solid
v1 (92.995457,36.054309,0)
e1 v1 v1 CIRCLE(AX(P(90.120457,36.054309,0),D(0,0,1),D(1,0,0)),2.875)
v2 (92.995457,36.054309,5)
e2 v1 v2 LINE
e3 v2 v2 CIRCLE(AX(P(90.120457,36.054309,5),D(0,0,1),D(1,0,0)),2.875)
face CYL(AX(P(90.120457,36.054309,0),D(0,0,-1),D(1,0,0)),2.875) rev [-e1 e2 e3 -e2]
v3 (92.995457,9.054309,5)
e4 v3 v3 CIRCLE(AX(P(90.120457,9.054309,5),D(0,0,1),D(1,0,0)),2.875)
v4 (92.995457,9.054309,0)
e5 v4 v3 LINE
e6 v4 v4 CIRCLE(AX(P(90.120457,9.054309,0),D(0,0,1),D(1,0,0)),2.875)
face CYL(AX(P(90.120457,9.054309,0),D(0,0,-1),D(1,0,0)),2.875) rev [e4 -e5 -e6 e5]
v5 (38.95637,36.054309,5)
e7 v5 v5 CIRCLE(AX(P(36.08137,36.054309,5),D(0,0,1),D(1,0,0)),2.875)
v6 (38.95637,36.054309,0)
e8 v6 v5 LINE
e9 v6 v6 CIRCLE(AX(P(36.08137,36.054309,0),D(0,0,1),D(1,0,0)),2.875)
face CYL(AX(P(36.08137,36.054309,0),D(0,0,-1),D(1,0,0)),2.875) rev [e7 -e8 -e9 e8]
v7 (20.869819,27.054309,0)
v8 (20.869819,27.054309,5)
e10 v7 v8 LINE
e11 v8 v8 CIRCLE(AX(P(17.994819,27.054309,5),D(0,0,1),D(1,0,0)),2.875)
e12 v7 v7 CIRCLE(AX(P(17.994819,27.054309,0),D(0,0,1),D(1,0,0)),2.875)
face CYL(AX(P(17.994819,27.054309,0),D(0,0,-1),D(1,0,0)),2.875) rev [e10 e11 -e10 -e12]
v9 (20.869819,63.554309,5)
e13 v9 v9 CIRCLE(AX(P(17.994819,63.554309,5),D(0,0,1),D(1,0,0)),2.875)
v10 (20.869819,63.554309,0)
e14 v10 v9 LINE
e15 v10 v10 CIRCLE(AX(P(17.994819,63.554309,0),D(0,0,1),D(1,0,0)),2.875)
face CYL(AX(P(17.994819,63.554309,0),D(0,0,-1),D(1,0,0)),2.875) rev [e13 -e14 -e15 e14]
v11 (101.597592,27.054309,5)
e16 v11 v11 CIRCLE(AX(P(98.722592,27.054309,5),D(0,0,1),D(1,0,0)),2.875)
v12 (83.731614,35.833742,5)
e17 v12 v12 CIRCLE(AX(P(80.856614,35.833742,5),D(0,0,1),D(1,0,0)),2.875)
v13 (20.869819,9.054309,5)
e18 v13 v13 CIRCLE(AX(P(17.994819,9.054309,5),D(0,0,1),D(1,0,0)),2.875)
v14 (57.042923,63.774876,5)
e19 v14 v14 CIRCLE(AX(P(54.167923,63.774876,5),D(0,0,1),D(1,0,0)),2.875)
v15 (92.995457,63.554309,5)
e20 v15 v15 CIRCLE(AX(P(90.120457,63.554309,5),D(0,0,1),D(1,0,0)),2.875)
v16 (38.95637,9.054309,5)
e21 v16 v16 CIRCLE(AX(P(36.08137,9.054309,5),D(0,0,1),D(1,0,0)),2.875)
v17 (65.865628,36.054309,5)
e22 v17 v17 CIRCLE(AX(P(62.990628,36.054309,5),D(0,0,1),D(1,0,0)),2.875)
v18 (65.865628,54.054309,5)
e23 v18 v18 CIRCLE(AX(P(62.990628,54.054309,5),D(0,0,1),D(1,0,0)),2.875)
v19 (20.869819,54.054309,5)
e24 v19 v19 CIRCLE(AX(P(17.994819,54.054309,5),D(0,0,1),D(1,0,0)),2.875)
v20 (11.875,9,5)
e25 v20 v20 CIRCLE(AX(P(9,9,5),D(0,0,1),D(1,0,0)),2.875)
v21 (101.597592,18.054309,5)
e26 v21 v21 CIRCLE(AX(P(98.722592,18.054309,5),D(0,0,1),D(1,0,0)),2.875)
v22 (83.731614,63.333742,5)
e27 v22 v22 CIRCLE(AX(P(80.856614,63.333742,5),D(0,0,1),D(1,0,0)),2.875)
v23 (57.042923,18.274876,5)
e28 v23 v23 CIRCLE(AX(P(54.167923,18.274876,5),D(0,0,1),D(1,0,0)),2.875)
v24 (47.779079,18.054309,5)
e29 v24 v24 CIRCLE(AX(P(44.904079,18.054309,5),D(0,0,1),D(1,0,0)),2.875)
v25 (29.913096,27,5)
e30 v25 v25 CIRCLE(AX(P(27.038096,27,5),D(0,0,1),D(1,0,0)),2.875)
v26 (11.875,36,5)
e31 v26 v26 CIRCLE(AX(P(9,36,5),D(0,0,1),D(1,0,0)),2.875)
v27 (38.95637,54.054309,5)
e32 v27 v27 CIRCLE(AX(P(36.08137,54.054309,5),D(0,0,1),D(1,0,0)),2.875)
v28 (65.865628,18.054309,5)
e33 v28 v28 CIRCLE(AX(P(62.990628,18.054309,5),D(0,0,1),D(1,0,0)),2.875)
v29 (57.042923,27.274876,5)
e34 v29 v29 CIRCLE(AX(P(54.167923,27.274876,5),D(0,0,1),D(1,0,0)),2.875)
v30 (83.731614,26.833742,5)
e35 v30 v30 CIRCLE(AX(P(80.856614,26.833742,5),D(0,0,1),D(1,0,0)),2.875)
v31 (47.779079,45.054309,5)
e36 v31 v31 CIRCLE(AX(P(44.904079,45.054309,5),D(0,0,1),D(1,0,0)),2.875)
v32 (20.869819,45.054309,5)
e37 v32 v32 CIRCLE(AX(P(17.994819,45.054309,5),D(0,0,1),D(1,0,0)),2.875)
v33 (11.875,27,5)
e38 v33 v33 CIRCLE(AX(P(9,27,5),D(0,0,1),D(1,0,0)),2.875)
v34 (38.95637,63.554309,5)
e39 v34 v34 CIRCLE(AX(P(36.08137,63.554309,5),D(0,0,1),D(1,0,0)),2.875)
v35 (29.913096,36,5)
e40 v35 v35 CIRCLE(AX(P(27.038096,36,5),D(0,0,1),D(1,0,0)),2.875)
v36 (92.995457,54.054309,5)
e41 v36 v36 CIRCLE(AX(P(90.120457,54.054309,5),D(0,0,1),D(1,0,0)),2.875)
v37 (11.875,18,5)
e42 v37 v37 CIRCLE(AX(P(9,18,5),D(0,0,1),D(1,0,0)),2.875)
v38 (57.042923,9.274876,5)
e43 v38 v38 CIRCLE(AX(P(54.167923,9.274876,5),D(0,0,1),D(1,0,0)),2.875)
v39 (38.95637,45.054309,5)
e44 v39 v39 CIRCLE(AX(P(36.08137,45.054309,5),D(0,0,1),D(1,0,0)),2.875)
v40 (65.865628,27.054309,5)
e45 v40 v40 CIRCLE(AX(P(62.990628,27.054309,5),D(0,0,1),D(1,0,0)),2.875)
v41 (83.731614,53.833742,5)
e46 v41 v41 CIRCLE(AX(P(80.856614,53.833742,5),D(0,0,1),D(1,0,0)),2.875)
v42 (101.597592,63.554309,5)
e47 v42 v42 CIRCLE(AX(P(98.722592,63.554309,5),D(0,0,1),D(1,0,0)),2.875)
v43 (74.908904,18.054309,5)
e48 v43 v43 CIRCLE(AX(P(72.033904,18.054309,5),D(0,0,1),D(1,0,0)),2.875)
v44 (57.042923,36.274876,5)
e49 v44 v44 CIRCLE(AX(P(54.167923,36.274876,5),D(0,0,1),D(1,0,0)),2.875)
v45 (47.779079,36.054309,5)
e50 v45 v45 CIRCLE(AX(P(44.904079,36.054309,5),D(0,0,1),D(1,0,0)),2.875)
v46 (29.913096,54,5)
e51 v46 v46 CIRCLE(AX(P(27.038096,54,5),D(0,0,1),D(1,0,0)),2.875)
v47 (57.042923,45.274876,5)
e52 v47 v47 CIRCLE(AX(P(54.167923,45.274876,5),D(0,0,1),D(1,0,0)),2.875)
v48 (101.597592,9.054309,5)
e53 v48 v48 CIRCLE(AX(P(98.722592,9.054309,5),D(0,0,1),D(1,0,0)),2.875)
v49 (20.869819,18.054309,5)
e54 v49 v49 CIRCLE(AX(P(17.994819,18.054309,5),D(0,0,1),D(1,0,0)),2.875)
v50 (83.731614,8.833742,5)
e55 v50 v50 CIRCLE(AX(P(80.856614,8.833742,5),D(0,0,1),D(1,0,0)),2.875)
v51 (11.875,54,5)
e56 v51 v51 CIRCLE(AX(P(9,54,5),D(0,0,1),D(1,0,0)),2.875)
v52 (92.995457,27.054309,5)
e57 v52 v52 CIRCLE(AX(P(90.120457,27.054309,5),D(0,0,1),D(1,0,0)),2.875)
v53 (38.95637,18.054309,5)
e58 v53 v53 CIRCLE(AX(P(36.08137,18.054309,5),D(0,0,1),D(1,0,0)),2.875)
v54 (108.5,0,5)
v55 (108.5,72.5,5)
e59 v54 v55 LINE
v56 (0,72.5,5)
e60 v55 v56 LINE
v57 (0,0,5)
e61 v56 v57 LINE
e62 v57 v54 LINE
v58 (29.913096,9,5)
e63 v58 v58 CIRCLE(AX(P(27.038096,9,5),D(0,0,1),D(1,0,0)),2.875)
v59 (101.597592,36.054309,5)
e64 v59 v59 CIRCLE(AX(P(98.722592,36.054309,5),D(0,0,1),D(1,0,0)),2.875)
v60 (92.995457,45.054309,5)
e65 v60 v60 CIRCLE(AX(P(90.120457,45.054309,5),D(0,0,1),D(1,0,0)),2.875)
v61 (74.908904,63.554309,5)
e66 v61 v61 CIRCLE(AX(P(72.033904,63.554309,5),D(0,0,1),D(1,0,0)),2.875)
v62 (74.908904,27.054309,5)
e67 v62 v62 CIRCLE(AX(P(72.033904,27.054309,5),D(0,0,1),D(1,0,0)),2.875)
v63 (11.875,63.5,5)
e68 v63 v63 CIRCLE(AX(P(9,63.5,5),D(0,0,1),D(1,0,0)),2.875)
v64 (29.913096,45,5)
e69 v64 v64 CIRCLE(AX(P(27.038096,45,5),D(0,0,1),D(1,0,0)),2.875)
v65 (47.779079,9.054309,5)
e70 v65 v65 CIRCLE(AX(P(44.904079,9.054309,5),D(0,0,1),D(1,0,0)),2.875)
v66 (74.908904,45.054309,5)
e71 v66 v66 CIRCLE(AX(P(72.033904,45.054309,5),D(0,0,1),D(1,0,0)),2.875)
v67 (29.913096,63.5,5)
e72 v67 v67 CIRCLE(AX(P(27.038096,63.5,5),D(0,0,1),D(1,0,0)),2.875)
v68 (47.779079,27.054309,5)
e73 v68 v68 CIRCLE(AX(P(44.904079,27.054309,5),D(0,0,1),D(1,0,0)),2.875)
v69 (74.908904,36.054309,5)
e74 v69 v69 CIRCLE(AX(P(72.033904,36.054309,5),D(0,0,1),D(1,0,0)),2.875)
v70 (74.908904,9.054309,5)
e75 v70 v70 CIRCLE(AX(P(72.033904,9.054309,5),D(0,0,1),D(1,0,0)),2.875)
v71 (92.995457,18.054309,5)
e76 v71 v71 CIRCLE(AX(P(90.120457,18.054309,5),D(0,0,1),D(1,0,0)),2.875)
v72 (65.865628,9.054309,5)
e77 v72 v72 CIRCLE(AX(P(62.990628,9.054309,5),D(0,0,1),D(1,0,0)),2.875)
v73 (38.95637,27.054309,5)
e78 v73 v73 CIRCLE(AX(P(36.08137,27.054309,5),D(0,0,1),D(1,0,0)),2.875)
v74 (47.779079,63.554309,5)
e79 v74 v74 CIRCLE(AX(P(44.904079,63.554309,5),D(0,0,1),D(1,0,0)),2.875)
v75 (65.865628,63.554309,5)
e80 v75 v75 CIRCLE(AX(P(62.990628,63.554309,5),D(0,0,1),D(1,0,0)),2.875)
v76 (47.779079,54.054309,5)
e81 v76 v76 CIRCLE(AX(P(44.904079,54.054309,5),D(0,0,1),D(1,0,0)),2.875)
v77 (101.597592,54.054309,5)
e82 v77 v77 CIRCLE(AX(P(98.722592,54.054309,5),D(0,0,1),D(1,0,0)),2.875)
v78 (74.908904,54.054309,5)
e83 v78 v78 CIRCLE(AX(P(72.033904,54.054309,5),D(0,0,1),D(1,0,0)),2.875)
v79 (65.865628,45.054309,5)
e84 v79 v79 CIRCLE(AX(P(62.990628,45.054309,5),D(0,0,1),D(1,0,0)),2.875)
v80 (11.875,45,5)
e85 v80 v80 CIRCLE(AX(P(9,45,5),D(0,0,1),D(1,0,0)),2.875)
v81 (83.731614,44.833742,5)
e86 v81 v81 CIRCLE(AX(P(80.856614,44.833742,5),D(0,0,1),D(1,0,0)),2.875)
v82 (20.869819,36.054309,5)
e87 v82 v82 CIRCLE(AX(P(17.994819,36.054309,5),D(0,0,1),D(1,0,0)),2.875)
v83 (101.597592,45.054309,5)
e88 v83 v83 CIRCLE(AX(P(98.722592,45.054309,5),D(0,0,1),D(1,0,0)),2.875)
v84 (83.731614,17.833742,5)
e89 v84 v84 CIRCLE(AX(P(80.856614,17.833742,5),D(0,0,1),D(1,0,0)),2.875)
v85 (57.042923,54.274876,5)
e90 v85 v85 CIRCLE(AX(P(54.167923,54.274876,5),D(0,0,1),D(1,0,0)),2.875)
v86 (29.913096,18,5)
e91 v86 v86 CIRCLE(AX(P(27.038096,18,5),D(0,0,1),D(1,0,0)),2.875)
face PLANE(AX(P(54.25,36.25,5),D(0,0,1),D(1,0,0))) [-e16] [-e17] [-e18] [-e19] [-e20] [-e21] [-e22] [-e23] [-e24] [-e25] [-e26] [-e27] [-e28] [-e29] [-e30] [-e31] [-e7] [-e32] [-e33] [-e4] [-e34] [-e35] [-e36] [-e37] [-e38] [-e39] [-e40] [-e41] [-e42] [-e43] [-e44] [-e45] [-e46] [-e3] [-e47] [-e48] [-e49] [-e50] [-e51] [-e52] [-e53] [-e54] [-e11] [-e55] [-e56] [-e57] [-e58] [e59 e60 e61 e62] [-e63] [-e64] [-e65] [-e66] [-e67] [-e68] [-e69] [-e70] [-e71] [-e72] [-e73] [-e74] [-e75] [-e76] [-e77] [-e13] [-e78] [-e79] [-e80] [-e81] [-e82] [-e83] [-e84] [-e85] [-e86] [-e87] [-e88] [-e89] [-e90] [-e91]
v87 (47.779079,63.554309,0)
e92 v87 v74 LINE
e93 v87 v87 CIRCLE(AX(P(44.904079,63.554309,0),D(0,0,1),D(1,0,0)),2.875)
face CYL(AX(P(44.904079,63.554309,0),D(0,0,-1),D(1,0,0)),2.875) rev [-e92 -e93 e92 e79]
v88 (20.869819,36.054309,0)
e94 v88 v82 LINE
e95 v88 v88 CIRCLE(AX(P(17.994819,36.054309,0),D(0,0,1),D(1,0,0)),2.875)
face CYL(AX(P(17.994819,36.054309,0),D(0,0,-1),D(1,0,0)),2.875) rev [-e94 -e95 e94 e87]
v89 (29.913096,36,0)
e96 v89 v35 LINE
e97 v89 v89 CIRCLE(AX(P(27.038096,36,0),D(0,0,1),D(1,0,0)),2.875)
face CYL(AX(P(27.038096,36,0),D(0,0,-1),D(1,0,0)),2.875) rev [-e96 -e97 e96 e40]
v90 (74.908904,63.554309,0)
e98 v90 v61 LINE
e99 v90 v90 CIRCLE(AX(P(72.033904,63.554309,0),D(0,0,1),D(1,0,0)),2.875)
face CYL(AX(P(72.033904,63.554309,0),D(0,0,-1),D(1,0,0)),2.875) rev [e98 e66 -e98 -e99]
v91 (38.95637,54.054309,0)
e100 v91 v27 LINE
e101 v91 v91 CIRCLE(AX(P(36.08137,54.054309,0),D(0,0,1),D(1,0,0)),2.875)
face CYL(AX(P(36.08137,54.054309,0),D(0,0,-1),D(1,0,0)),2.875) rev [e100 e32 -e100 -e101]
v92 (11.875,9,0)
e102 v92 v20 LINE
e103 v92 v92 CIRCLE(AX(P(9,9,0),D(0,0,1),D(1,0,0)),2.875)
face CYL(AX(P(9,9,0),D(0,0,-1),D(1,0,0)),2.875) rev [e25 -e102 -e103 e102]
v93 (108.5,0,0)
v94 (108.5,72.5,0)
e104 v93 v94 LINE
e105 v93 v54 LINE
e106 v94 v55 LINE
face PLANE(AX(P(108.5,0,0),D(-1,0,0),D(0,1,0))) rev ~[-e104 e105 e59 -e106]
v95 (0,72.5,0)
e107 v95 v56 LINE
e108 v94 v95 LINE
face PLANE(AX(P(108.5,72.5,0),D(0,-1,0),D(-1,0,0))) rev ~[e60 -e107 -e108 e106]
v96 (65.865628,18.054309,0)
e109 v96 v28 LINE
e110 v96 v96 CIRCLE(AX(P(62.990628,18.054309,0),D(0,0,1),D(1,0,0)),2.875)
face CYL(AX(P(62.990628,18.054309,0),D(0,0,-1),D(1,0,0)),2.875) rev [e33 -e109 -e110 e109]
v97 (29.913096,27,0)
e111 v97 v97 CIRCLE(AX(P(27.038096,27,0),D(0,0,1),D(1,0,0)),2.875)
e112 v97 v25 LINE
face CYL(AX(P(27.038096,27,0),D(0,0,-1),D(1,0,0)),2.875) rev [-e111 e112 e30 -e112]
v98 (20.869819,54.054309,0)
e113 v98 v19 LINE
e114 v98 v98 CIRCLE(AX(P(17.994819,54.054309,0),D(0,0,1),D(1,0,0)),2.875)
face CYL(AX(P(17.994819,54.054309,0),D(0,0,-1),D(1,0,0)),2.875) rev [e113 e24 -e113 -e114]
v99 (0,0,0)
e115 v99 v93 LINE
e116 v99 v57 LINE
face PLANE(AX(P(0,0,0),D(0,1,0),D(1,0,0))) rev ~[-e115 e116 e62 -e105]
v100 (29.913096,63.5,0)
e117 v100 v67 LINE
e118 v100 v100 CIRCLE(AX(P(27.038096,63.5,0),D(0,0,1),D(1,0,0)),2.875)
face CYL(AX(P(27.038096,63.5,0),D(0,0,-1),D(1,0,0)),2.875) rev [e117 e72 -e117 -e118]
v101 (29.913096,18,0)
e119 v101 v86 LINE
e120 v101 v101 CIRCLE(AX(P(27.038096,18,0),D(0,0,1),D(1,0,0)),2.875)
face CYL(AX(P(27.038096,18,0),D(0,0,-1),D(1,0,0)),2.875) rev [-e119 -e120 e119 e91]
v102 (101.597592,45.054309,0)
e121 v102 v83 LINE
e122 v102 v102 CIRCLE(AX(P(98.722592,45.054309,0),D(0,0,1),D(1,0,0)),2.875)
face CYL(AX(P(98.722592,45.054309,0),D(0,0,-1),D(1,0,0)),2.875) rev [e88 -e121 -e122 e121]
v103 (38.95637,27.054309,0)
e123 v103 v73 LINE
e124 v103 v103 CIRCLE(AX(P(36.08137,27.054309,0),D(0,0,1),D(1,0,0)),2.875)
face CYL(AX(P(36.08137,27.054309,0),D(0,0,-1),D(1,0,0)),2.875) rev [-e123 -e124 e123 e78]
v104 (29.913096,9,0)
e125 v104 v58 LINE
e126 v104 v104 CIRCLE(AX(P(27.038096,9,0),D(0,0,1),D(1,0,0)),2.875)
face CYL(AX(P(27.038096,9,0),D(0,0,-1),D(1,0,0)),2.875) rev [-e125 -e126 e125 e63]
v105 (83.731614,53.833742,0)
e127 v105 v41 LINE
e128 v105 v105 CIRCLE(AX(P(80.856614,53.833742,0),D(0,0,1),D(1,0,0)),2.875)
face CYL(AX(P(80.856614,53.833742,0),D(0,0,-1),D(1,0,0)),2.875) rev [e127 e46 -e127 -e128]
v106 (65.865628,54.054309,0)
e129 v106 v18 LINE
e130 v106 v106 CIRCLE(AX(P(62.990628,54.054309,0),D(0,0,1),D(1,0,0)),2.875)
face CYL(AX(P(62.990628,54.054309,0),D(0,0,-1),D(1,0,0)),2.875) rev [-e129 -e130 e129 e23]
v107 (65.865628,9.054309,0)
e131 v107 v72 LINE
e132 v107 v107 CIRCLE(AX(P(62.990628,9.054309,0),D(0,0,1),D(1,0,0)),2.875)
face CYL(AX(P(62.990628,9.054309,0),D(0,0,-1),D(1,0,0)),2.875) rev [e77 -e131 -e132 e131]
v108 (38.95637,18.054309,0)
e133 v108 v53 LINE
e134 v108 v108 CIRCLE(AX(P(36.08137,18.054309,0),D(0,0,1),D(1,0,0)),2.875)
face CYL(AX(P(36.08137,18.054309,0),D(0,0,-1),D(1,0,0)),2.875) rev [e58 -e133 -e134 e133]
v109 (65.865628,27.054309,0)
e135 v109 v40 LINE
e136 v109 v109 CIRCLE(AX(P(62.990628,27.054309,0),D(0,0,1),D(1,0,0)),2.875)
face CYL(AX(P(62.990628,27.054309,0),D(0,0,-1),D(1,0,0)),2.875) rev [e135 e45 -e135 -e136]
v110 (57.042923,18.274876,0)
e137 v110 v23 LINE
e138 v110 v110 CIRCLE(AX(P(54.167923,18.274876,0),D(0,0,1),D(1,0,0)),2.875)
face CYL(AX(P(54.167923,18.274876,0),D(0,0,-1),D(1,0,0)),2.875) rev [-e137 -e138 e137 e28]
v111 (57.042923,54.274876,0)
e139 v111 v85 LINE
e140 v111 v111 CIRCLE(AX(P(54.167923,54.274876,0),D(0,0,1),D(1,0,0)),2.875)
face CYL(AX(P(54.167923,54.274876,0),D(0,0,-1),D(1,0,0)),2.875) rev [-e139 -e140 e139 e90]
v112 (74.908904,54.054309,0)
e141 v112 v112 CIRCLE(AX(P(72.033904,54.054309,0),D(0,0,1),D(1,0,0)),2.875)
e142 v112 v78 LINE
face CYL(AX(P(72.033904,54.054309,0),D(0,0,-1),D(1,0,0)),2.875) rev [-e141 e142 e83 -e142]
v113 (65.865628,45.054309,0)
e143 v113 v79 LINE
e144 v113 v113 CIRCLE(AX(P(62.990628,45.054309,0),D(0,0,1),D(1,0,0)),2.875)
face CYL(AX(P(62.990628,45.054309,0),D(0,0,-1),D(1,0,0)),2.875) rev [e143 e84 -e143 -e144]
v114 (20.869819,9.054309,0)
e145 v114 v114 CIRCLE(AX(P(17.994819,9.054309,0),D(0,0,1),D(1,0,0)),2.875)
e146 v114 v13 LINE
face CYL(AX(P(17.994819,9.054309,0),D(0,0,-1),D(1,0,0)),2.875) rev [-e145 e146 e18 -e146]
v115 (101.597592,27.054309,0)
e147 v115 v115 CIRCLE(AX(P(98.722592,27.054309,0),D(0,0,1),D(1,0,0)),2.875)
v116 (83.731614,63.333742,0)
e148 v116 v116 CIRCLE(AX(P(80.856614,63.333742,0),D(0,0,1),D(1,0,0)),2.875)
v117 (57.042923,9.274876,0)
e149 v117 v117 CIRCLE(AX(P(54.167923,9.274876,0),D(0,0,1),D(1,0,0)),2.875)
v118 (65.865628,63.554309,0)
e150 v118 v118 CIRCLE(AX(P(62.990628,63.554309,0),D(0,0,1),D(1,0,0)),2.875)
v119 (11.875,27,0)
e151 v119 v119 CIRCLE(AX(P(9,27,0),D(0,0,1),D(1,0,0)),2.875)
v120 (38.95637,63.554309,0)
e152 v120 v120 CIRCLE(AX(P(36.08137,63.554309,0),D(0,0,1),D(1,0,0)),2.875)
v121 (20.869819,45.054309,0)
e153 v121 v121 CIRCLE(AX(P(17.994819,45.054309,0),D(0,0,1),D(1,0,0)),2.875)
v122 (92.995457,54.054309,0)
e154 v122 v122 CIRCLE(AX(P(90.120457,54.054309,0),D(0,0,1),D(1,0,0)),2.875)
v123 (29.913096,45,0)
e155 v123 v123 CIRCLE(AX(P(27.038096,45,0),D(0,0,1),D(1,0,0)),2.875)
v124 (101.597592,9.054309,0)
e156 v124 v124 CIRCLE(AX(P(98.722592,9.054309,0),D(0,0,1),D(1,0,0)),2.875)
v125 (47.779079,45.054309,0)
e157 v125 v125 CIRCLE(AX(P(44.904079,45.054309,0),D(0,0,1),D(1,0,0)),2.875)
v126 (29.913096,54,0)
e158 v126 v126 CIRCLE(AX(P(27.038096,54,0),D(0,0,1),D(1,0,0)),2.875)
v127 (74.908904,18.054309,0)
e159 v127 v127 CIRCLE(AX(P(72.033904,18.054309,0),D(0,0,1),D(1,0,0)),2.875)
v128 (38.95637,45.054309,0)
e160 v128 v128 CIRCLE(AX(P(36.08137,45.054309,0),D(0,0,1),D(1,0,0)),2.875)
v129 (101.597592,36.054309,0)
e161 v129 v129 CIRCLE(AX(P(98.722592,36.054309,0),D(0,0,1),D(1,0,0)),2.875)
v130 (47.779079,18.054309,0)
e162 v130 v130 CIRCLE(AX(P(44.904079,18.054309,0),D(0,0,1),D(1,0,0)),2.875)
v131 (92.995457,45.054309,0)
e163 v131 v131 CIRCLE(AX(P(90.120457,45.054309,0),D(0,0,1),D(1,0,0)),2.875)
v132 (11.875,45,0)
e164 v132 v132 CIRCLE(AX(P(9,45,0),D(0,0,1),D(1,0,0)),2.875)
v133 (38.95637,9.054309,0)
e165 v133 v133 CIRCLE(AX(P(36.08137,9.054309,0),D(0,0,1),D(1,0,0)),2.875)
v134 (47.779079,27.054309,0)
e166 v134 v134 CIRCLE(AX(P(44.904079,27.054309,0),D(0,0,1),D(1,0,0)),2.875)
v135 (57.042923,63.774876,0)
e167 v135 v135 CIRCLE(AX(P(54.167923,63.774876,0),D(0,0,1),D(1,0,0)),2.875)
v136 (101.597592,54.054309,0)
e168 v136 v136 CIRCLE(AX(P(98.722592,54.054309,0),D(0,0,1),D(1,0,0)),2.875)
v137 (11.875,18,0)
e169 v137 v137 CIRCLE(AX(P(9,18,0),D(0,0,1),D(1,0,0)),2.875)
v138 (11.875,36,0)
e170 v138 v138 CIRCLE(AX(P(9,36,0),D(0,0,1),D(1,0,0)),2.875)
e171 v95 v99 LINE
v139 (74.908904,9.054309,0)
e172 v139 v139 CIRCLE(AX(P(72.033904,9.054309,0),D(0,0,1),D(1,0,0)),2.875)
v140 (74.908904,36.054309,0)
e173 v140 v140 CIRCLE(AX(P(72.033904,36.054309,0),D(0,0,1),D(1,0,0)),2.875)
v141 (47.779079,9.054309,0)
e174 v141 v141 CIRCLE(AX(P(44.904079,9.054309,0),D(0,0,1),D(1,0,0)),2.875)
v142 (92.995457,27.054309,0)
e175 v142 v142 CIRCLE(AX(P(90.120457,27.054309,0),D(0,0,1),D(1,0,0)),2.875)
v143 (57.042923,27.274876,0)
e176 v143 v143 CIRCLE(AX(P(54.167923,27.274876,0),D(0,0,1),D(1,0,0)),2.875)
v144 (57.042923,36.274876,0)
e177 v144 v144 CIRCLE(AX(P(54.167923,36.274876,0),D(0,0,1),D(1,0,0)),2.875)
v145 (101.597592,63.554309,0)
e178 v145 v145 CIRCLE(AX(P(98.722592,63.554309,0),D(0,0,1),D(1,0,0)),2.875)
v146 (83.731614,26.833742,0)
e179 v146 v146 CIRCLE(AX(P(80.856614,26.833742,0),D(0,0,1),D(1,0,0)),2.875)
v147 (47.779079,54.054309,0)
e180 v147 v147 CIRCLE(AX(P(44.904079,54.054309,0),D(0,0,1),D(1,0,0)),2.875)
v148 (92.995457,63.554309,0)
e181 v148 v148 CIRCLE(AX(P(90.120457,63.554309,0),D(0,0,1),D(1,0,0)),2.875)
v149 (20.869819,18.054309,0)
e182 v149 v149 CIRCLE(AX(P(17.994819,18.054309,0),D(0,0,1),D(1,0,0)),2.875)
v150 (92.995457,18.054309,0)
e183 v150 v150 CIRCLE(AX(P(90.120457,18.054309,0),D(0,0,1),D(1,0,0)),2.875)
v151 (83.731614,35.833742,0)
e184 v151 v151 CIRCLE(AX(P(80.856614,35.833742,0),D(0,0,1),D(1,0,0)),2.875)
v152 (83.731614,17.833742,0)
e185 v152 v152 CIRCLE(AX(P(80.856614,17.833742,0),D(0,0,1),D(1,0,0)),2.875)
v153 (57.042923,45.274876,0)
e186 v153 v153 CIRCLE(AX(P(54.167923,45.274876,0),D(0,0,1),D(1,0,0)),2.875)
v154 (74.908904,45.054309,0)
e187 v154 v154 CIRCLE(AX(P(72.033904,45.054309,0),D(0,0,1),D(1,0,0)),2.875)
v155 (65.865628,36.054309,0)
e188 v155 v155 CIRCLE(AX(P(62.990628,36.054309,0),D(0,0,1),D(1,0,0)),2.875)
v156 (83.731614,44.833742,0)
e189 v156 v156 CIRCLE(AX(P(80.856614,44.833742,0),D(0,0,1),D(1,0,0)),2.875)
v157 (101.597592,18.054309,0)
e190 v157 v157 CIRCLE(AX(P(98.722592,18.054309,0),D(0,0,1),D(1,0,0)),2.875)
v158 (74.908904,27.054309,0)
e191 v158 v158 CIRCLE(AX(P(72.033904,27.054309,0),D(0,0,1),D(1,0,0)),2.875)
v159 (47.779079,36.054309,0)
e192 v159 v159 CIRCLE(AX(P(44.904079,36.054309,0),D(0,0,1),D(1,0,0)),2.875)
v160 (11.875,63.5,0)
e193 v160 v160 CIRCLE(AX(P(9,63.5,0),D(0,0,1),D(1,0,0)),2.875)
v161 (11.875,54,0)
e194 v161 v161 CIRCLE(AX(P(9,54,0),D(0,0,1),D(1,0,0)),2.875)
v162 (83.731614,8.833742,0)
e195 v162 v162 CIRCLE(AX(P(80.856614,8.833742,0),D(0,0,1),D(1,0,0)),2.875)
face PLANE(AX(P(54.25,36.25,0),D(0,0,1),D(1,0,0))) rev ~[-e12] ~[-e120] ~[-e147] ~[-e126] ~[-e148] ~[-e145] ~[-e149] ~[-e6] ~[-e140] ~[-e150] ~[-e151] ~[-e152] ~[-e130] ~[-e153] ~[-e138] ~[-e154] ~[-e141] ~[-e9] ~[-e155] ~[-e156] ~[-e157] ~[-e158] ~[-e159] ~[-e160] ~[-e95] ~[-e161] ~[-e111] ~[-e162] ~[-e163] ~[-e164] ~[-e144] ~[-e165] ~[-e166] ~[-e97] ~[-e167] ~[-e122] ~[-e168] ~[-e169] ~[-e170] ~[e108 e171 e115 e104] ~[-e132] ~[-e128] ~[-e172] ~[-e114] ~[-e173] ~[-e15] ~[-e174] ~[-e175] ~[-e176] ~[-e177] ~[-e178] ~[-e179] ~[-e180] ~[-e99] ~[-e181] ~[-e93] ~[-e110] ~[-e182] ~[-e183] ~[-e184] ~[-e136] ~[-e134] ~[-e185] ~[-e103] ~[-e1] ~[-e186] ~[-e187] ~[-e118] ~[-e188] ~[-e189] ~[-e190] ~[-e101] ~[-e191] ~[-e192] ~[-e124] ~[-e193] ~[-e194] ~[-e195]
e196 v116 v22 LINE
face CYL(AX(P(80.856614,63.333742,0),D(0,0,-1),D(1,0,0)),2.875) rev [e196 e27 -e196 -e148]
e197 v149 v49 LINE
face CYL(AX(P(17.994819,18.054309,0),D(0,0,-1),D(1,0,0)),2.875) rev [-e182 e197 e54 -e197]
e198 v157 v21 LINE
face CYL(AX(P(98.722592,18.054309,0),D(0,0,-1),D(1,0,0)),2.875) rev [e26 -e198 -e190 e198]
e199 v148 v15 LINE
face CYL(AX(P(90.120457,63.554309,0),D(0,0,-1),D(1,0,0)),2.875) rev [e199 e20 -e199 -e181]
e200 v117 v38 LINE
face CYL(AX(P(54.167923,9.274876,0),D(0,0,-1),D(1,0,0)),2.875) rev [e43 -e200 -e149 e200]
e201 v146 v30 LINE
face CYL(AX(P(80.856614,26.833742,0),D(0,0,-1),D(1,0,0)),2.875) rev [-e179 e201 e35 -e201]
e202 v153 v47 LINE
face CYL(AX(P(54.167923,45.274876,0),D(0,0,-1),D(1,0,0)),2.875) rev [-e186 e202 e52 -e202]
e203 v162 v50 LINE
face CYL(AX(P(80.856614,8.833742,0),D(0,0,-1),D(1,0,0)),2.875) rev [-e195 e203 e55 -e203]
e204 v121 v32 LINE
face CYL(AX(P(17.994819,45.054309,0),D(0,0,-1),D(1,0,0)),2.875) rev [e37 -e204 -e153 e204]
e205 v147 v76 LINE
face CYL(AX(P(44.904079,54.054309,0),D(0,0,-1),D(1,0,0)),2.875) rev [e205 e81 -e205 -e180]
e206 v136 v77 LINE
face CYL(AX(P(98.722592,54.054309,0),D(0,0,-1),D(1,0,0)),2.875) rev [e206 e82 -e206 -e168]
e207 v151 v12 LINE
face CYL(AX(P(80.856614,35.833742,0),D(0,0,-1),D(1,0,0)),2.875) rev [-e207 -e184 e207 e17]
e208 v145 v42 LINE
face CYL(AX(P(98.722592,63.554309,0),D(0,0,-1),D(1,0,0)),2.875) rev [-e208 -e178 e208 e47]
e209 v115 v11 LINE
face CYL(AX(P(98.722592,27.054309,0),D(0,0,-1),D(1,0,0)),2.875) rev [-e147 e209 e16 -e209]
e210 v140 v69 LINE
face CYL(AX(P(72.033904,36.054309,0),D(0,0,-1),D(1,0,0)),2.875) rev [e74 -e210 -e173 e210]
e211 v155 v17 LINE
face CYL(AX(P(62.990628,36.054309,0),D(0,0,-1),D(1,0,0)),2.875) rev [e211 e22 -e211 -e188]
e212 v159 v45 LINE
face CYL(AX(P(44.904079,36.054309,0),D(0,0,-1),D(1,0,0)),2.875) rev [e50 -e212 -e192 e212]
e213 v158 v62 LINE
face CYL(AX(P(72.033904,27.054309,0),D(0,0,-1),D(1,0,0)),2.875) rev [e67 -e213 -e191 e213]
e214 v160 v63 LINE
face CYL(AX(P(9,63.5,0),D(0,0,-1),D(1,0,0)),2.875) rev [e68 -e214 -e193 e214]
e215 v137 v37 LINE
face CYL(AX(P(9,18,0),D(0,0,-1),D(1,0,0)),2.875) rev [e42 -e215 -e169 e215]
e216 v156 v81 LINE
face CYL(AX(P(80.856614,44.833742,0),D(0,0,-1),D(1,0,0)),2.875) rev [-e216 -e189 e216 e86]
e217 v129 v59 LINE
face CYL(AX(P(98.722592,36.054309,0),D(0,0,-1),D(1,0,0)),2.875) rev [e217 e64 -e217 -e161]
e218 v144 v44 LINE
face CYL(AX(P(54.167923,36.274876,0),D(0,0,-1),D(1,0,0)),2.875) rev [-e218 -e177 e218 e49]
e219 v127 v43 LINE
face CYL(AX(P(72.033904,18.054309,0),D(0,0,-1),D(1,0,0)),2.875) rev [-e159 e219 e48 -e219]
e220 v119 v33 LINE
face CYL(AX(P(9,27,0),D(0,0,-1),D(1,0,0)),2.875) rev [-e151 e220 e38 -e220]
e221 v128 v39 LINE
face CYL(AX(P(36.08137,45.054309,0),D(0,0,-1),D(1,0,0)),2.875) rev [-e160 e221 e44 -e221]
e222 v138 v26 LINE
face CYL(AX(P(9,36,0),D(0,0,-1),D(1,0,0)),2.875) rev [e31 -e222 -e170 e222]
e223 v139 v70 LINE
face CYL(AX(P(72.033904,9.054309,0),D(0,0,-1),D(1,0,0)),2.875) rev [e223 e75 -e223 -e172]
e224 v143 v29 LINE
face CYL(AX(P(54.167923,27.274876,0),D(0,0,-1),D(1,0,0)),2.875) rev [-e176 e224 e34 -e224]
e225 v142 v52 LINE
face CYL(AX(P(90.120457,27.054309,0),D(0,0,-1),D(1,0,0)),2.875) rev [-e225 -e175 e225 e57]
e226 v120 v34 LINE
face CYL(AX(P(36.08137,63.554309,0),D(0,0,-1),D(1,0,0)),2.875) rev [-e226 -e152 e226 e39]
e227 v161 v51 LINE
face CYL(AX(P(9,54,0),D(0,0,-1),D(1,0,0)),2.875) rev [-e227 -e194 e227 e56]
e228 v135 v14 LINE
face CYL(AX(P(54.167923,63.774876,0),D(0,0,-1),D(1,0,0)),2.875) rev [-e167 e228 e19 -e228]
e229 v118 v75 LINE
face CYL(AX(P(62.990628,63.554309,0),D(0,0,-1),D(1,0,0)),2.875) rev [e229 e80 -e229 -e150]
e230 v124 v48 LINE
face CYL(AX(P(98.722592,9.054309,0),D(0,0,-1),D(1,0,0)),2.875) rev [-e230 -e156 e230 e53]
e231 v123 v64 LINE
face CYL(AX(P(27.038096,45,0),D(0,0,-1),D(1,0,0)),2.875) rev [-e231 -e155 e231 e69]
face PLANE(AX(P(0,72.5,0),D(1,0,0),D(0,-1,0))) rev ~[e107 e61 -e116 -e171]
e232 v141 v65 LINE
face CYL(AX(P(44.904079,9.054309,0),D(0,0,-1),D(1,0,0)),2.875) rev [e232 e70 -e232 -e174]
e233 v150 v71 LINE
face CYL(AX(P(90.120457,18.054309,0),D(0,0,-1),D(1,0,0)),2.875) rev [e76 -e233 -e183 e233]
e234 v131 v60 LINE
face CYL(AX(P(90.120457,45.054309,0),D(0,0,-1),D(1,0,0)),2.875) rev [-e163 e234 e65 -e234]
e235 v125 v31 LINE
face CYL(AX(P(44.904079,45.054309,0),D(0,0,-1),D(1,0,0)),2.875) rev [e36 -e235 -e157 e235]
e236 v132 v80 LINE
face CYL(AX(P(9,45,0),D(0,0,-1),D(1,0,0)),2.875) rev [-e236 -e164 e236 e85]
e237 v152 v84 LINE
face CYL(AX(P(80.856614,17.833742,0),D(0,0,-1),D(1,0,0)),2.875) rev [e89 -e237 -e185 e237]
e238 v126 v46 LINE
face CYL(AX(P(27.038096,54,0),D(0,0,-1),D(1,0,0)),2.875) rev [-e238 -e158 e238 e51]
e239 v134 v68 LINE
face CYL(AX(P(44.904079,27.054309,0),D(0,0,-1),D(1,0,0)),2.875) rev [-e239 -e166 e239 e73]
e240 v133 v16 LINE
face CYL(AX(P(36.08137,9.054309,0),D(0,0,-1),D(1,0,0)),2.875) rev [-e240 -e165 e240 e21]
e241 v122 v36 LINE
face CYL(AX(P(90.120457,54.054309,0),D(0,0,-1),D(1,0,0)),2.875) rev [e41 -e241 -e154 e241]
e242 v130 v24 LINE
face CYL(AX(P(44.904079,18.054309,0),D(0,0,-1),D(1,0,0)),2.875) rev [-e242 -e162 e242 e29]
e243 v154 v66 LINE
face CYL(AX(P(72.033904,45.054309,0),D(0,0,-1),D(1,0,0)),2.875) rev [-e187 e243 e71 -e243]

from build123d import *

# Parameters (mm, degrees)
F0_R     = 2.875
F1_DEPTH = 5


with BuildPart() as f1:
    # F0 (on Top) → F1 (new body)
    with BuildSketch(Plane.XY):
        Polygon((0, 9), (0, 0), (9, 0), (108.5, 0), (108.5, 9), (108.5, 18), (108.5, 27), (108.5, 36), (108.5, 45), (108.5, 54), (108.5, 72.5), (99, 72.5), (90, 72.5), (81, 72.5), (72, 72.5), (63, 72.5), (54.25, 72.5), (54, 72.5), (45, 72.5), (36, 72.5), (27, 72.5), (18, 72.5), (9, 72.5), (0, 72.5), (0, 63.5), (0, 45), (0, 36), (0, 27), (0, 18), align=None)
        with Locations((9, 9)):
            Circle(F0_R, mode=Mode.SUBTRACT)
        with Locations((17.994819, 9.054309)):
            Circle(F0_R, mode=Mode.SUBTRACT)
        with Locations((27.038096, 9)):
            Circle(F0_R, mode=Mode.SUBTRACT)
        with Locations((9, 18)):
            Circle(F0_R, mode=Mode.SUBTRACT)
        with Locations((17.994819, 18.054309)):
            Circle(F0_R, mode=Mode.SUBTRACT)
        with Locations((27.038096, 18)):
            Circle(F0_R, mode=Mode.SUBTRACT)
        with Locations((36.08137, 9.054309)):
            Circle(F0_R, mode=Mode.SUBTRACT)
        with Locations((44.904079, 9.054309)):
            Circle(F0_R, mode=Mode.SUBTRACT)
        with Locations((36.08137, 18.054309)):
            Circle(F0_R, mode=Mode.SUBTRACT)
        with Locations((54.167923, 9.274876)):
            Circle(F0_R, mode=Mode.SUBTRACT)
        with Locations((44.904079, 18.054309)):
            Circle(F0_R, mode=Mode.SUBTRACT)
        with Locations((9, 27)):
            Circle(F0_R, mode=Mode.SUBTRACT)
        with Locations((17.994819, 27.054309)):
            Circle(F0_R, mode=Mode.SUBTRACT)
        with Locations((27.038096, 27)):
            Circle(F0_R, mode=Mode.SUBTRACT)
        with Locations((9, 36)):
            Circle(F0_R, mode=Mode.SUBTRACT)
        with Locations((17.994819, 36.054309)):
            Circle(F0_R, mode=Mode.SUBTRACT)
        with Locations((27.038096, 36)):
            Circle(F0_R, mode=Mode.SUBTRACT)
        with Locations((36.08137, 27.054309)):
            Circle(F0_R, mode=Mode.SUBTRACT)
        with Locations((54.167923, 18.274876)):
            Circle(F0_R, mode=Mode.SUBTRACT)
        with Locations((44.904079, 27.054309)):
            Circle(F0_R, mode=Mode.SUBTRACT)
        with Locations((36.08137, 36.054309)):
            Circle(F0_R, mode=Mode.SUBTRACT)
        with Locations((54.167923, 27.274876)):
            Circle(F0_R, mode=Mode.SUBTRACT)
        with Locations((44.904079, 36.054309)):
            Circle(F0_R, mode=Mode.SUBTRACT)
        with Locations((62.990628, 9.054309)):
            Circle(F0_R, mode=Mode.SUBTRACT)
        with Locations((72.033904, 9.054309)):
            Circle(F0_R, mode=Mode.SUBTRACT)
        with Locations((80.856614, 8.833742)):
            Circle(F0_R, mode=Mode.SUBTRACT)
        with Locations((62.990628, 18.054309)):
            Circle(F0_R, mode=Mode.SUBTRACT)
        with Locations((72.033904, 18.054309)):
            Circle(F0_R, mode=Mode.SUBTRACT)
        with Locations((80.856614, 17.833742)):
            Circle(F0_R, mode=Mode.SUBTRACT)
        with Locations((90.120457, 9.054309)):
            Circle(F0_R, mode=Mode.SUBTRACT)
        with Locations((98.722592, 9.054309)):
            Circle(F0_R, mode=Mode.SUBTRACT)
        with Locations((90.120457, 18.054309)):
            Circle(F0_R, mode=Mode.SUBTRACT)
        with Locations((98.722592, 18.054309)):
            Circle(F0_R, mode=Mode.SUBTRACT)
        with Locations((62.990628, 27.054309)):
            Circle(F0_R, mode=Mode.SUBTRACT)
        with Locations((72.033904, 27.054309)):
            Circle(F0_R, mode=Mode.SUBTRACT)
        with Locations((80.856614, 26.833742)):
            Circle(F0_R, mode=Mode.SUBTRACT)
        with Locations((62.990628, 36.054309)):
            Circle(F0_R, mode=Mode.SUBTRACT)
        with Locations((72.033904, 36.054309)):
            Circle(F0_R, mode=Mode.SUBTRACT)
        with Locations((80.856614, 35.833742)):
            Circle(F0_R, mode=Mode.SUBTRACT)
        with Locations((90.120457, 27.054309)):
            Circle(F0_R, mode=Mode.SUBTRACT)
        with Locations((98.722592, 27.054309)):
            Circle(F0_R, mode=Mode.SUBTRACT)
        with Locations((90.120457, 36.054309)):
            Circle(F0_R, mode=Mode.SUBTRACT)
        with Locations((98.722592, 36.054309)):
            Circle(F0_R, mode=Mode.SUBTRACT)
        with Locations((9, 45)):
            Circle(F0_R, mode=Mode.SUBTRACT)
        with Locations((17.994819, 45.054309)):
            Circle(F0_R, mode=Mode.SUBTRACT)
        with Locations((27.038096, 45)):
            Circle(F0_R, mode=Mode.SUBTRACT)
        with Locations((9, 54)):
            Circle(F0_R, mode=Mode.SUBTRACT)
        with Locations((17.994819, 54.054309)):
            Circle(F0_R, mode=Mode.SUBTRACT)
        with Locations((27.038096, 54)):
            Circle(F0_R, mode=Mode.SUBTRACT)
        with Locations((36.08137, 45.054309)):
            Circle(F0_R, mode=Mode.SUBTRACT)
        with Locations((54.167923, 36.274876)):
            Circle(F0_R, mode=Mode.SUBTRACT)
        with Locations((44.904079, 45.054309)):
            Circle(F0_R, mode=Mode.SUBTRACT)
        with Locations((54.167923, 45.274876)):
            Circle(F0_R, mode=Mode.SUBTRACT)
        with Locations((36.08137, 54.054309)):
            Circle(F0_R, mode=Mode.SUBTRACT)
        with Locations((44.904079, 54.054309)):
            Circle(F0_R, mode=Mode.SUBTRACT)
        with Locations((54.167923, 54.274876)):
            Circle(F0_R, mode=Mode.SUBTRACT)
        with Locations((9, 63.5)):
            Circle(F0_R, mode=Mode.SUBTRACT)
        with Locations((17.994819, 63.554309)):
            Circle(F0_R, mode=Mode.SUBTRACT)
        with Locations((27.038096, 63.5)):
            Circle(F0_R, mode=Mode.SUBTRACT)
        with Locations((36.08137, 63.554309)):
            Circle(F0_R, mode=Mode.SUBTRACT)
        with Locations((44.904079, 63.554309)):
            Circle(F0_R, mode=Mode.SUBTRACT)
        with Locations((54.167923, 63.774876)):
            Circle(F0_R, mode=Mode.SUBTRACT)
        with Locations((62.990628, 45.054309)):
            Circle(F0_R, mode=Mode.SUBTRACT)
        with Locations((72.033904, 45.054309)):
            Circle(F0_R, mode=Mode.SUBTRACT)
        with Locations((80.856614, 44.833742)):
            Circle(F0_R, mode=Mode.SUBTRACT)
        with Locations((62.990628, 54.054309)):
            Circle(F0_R, mode=Mode.SUBTRACT)
        with Locations((72.033904, 54.054309)):
            Circle(F0_R, mode=Mode.SUBTRACT)
        with Locations((80.856614, 53.833742)):
            Circle(F0_R, mode=Mode.SUBTRACT)
        with Locations((90.120457, 45.054309)):
            Circle(F0_R, mode=Mode.SUBTRACT)
        with Locations((98.722592, 45.054309)):
            Circle(F0_R, mode=Mode.SUBTRACT)
        with Locations((90.120457, 54.054309)):
            Circle(F0_R, mode=Mode.SUBTRACT)
        with Locations((98.722592, 54.054309)):
            Circle(F0_R, mode=Mode.SUBTRACT)
        with Locations((80.856614, 63.333742)):
            Circle(F0_R, mode=Mode.SUBTRACT)
        with Locations((62.990628, 63.554309)):
            Circle(F0_R, mode=Mode.SUBTRACT)
        with Locations((72.033904, 63.554309)):
            Circle(F0_R, mode=Mode.SUBTRACT)
        with Locations((90.120457, 63.554309)):
            Circle(F0_R, mode=Mode.SUBTRACT)
        with Locations((98.722592, 63.554309)):
            Circle(F0_R, mode=Mode.SUBTRACT)
    extrude(amount=F1_DEPTH)


solid = f1.part
